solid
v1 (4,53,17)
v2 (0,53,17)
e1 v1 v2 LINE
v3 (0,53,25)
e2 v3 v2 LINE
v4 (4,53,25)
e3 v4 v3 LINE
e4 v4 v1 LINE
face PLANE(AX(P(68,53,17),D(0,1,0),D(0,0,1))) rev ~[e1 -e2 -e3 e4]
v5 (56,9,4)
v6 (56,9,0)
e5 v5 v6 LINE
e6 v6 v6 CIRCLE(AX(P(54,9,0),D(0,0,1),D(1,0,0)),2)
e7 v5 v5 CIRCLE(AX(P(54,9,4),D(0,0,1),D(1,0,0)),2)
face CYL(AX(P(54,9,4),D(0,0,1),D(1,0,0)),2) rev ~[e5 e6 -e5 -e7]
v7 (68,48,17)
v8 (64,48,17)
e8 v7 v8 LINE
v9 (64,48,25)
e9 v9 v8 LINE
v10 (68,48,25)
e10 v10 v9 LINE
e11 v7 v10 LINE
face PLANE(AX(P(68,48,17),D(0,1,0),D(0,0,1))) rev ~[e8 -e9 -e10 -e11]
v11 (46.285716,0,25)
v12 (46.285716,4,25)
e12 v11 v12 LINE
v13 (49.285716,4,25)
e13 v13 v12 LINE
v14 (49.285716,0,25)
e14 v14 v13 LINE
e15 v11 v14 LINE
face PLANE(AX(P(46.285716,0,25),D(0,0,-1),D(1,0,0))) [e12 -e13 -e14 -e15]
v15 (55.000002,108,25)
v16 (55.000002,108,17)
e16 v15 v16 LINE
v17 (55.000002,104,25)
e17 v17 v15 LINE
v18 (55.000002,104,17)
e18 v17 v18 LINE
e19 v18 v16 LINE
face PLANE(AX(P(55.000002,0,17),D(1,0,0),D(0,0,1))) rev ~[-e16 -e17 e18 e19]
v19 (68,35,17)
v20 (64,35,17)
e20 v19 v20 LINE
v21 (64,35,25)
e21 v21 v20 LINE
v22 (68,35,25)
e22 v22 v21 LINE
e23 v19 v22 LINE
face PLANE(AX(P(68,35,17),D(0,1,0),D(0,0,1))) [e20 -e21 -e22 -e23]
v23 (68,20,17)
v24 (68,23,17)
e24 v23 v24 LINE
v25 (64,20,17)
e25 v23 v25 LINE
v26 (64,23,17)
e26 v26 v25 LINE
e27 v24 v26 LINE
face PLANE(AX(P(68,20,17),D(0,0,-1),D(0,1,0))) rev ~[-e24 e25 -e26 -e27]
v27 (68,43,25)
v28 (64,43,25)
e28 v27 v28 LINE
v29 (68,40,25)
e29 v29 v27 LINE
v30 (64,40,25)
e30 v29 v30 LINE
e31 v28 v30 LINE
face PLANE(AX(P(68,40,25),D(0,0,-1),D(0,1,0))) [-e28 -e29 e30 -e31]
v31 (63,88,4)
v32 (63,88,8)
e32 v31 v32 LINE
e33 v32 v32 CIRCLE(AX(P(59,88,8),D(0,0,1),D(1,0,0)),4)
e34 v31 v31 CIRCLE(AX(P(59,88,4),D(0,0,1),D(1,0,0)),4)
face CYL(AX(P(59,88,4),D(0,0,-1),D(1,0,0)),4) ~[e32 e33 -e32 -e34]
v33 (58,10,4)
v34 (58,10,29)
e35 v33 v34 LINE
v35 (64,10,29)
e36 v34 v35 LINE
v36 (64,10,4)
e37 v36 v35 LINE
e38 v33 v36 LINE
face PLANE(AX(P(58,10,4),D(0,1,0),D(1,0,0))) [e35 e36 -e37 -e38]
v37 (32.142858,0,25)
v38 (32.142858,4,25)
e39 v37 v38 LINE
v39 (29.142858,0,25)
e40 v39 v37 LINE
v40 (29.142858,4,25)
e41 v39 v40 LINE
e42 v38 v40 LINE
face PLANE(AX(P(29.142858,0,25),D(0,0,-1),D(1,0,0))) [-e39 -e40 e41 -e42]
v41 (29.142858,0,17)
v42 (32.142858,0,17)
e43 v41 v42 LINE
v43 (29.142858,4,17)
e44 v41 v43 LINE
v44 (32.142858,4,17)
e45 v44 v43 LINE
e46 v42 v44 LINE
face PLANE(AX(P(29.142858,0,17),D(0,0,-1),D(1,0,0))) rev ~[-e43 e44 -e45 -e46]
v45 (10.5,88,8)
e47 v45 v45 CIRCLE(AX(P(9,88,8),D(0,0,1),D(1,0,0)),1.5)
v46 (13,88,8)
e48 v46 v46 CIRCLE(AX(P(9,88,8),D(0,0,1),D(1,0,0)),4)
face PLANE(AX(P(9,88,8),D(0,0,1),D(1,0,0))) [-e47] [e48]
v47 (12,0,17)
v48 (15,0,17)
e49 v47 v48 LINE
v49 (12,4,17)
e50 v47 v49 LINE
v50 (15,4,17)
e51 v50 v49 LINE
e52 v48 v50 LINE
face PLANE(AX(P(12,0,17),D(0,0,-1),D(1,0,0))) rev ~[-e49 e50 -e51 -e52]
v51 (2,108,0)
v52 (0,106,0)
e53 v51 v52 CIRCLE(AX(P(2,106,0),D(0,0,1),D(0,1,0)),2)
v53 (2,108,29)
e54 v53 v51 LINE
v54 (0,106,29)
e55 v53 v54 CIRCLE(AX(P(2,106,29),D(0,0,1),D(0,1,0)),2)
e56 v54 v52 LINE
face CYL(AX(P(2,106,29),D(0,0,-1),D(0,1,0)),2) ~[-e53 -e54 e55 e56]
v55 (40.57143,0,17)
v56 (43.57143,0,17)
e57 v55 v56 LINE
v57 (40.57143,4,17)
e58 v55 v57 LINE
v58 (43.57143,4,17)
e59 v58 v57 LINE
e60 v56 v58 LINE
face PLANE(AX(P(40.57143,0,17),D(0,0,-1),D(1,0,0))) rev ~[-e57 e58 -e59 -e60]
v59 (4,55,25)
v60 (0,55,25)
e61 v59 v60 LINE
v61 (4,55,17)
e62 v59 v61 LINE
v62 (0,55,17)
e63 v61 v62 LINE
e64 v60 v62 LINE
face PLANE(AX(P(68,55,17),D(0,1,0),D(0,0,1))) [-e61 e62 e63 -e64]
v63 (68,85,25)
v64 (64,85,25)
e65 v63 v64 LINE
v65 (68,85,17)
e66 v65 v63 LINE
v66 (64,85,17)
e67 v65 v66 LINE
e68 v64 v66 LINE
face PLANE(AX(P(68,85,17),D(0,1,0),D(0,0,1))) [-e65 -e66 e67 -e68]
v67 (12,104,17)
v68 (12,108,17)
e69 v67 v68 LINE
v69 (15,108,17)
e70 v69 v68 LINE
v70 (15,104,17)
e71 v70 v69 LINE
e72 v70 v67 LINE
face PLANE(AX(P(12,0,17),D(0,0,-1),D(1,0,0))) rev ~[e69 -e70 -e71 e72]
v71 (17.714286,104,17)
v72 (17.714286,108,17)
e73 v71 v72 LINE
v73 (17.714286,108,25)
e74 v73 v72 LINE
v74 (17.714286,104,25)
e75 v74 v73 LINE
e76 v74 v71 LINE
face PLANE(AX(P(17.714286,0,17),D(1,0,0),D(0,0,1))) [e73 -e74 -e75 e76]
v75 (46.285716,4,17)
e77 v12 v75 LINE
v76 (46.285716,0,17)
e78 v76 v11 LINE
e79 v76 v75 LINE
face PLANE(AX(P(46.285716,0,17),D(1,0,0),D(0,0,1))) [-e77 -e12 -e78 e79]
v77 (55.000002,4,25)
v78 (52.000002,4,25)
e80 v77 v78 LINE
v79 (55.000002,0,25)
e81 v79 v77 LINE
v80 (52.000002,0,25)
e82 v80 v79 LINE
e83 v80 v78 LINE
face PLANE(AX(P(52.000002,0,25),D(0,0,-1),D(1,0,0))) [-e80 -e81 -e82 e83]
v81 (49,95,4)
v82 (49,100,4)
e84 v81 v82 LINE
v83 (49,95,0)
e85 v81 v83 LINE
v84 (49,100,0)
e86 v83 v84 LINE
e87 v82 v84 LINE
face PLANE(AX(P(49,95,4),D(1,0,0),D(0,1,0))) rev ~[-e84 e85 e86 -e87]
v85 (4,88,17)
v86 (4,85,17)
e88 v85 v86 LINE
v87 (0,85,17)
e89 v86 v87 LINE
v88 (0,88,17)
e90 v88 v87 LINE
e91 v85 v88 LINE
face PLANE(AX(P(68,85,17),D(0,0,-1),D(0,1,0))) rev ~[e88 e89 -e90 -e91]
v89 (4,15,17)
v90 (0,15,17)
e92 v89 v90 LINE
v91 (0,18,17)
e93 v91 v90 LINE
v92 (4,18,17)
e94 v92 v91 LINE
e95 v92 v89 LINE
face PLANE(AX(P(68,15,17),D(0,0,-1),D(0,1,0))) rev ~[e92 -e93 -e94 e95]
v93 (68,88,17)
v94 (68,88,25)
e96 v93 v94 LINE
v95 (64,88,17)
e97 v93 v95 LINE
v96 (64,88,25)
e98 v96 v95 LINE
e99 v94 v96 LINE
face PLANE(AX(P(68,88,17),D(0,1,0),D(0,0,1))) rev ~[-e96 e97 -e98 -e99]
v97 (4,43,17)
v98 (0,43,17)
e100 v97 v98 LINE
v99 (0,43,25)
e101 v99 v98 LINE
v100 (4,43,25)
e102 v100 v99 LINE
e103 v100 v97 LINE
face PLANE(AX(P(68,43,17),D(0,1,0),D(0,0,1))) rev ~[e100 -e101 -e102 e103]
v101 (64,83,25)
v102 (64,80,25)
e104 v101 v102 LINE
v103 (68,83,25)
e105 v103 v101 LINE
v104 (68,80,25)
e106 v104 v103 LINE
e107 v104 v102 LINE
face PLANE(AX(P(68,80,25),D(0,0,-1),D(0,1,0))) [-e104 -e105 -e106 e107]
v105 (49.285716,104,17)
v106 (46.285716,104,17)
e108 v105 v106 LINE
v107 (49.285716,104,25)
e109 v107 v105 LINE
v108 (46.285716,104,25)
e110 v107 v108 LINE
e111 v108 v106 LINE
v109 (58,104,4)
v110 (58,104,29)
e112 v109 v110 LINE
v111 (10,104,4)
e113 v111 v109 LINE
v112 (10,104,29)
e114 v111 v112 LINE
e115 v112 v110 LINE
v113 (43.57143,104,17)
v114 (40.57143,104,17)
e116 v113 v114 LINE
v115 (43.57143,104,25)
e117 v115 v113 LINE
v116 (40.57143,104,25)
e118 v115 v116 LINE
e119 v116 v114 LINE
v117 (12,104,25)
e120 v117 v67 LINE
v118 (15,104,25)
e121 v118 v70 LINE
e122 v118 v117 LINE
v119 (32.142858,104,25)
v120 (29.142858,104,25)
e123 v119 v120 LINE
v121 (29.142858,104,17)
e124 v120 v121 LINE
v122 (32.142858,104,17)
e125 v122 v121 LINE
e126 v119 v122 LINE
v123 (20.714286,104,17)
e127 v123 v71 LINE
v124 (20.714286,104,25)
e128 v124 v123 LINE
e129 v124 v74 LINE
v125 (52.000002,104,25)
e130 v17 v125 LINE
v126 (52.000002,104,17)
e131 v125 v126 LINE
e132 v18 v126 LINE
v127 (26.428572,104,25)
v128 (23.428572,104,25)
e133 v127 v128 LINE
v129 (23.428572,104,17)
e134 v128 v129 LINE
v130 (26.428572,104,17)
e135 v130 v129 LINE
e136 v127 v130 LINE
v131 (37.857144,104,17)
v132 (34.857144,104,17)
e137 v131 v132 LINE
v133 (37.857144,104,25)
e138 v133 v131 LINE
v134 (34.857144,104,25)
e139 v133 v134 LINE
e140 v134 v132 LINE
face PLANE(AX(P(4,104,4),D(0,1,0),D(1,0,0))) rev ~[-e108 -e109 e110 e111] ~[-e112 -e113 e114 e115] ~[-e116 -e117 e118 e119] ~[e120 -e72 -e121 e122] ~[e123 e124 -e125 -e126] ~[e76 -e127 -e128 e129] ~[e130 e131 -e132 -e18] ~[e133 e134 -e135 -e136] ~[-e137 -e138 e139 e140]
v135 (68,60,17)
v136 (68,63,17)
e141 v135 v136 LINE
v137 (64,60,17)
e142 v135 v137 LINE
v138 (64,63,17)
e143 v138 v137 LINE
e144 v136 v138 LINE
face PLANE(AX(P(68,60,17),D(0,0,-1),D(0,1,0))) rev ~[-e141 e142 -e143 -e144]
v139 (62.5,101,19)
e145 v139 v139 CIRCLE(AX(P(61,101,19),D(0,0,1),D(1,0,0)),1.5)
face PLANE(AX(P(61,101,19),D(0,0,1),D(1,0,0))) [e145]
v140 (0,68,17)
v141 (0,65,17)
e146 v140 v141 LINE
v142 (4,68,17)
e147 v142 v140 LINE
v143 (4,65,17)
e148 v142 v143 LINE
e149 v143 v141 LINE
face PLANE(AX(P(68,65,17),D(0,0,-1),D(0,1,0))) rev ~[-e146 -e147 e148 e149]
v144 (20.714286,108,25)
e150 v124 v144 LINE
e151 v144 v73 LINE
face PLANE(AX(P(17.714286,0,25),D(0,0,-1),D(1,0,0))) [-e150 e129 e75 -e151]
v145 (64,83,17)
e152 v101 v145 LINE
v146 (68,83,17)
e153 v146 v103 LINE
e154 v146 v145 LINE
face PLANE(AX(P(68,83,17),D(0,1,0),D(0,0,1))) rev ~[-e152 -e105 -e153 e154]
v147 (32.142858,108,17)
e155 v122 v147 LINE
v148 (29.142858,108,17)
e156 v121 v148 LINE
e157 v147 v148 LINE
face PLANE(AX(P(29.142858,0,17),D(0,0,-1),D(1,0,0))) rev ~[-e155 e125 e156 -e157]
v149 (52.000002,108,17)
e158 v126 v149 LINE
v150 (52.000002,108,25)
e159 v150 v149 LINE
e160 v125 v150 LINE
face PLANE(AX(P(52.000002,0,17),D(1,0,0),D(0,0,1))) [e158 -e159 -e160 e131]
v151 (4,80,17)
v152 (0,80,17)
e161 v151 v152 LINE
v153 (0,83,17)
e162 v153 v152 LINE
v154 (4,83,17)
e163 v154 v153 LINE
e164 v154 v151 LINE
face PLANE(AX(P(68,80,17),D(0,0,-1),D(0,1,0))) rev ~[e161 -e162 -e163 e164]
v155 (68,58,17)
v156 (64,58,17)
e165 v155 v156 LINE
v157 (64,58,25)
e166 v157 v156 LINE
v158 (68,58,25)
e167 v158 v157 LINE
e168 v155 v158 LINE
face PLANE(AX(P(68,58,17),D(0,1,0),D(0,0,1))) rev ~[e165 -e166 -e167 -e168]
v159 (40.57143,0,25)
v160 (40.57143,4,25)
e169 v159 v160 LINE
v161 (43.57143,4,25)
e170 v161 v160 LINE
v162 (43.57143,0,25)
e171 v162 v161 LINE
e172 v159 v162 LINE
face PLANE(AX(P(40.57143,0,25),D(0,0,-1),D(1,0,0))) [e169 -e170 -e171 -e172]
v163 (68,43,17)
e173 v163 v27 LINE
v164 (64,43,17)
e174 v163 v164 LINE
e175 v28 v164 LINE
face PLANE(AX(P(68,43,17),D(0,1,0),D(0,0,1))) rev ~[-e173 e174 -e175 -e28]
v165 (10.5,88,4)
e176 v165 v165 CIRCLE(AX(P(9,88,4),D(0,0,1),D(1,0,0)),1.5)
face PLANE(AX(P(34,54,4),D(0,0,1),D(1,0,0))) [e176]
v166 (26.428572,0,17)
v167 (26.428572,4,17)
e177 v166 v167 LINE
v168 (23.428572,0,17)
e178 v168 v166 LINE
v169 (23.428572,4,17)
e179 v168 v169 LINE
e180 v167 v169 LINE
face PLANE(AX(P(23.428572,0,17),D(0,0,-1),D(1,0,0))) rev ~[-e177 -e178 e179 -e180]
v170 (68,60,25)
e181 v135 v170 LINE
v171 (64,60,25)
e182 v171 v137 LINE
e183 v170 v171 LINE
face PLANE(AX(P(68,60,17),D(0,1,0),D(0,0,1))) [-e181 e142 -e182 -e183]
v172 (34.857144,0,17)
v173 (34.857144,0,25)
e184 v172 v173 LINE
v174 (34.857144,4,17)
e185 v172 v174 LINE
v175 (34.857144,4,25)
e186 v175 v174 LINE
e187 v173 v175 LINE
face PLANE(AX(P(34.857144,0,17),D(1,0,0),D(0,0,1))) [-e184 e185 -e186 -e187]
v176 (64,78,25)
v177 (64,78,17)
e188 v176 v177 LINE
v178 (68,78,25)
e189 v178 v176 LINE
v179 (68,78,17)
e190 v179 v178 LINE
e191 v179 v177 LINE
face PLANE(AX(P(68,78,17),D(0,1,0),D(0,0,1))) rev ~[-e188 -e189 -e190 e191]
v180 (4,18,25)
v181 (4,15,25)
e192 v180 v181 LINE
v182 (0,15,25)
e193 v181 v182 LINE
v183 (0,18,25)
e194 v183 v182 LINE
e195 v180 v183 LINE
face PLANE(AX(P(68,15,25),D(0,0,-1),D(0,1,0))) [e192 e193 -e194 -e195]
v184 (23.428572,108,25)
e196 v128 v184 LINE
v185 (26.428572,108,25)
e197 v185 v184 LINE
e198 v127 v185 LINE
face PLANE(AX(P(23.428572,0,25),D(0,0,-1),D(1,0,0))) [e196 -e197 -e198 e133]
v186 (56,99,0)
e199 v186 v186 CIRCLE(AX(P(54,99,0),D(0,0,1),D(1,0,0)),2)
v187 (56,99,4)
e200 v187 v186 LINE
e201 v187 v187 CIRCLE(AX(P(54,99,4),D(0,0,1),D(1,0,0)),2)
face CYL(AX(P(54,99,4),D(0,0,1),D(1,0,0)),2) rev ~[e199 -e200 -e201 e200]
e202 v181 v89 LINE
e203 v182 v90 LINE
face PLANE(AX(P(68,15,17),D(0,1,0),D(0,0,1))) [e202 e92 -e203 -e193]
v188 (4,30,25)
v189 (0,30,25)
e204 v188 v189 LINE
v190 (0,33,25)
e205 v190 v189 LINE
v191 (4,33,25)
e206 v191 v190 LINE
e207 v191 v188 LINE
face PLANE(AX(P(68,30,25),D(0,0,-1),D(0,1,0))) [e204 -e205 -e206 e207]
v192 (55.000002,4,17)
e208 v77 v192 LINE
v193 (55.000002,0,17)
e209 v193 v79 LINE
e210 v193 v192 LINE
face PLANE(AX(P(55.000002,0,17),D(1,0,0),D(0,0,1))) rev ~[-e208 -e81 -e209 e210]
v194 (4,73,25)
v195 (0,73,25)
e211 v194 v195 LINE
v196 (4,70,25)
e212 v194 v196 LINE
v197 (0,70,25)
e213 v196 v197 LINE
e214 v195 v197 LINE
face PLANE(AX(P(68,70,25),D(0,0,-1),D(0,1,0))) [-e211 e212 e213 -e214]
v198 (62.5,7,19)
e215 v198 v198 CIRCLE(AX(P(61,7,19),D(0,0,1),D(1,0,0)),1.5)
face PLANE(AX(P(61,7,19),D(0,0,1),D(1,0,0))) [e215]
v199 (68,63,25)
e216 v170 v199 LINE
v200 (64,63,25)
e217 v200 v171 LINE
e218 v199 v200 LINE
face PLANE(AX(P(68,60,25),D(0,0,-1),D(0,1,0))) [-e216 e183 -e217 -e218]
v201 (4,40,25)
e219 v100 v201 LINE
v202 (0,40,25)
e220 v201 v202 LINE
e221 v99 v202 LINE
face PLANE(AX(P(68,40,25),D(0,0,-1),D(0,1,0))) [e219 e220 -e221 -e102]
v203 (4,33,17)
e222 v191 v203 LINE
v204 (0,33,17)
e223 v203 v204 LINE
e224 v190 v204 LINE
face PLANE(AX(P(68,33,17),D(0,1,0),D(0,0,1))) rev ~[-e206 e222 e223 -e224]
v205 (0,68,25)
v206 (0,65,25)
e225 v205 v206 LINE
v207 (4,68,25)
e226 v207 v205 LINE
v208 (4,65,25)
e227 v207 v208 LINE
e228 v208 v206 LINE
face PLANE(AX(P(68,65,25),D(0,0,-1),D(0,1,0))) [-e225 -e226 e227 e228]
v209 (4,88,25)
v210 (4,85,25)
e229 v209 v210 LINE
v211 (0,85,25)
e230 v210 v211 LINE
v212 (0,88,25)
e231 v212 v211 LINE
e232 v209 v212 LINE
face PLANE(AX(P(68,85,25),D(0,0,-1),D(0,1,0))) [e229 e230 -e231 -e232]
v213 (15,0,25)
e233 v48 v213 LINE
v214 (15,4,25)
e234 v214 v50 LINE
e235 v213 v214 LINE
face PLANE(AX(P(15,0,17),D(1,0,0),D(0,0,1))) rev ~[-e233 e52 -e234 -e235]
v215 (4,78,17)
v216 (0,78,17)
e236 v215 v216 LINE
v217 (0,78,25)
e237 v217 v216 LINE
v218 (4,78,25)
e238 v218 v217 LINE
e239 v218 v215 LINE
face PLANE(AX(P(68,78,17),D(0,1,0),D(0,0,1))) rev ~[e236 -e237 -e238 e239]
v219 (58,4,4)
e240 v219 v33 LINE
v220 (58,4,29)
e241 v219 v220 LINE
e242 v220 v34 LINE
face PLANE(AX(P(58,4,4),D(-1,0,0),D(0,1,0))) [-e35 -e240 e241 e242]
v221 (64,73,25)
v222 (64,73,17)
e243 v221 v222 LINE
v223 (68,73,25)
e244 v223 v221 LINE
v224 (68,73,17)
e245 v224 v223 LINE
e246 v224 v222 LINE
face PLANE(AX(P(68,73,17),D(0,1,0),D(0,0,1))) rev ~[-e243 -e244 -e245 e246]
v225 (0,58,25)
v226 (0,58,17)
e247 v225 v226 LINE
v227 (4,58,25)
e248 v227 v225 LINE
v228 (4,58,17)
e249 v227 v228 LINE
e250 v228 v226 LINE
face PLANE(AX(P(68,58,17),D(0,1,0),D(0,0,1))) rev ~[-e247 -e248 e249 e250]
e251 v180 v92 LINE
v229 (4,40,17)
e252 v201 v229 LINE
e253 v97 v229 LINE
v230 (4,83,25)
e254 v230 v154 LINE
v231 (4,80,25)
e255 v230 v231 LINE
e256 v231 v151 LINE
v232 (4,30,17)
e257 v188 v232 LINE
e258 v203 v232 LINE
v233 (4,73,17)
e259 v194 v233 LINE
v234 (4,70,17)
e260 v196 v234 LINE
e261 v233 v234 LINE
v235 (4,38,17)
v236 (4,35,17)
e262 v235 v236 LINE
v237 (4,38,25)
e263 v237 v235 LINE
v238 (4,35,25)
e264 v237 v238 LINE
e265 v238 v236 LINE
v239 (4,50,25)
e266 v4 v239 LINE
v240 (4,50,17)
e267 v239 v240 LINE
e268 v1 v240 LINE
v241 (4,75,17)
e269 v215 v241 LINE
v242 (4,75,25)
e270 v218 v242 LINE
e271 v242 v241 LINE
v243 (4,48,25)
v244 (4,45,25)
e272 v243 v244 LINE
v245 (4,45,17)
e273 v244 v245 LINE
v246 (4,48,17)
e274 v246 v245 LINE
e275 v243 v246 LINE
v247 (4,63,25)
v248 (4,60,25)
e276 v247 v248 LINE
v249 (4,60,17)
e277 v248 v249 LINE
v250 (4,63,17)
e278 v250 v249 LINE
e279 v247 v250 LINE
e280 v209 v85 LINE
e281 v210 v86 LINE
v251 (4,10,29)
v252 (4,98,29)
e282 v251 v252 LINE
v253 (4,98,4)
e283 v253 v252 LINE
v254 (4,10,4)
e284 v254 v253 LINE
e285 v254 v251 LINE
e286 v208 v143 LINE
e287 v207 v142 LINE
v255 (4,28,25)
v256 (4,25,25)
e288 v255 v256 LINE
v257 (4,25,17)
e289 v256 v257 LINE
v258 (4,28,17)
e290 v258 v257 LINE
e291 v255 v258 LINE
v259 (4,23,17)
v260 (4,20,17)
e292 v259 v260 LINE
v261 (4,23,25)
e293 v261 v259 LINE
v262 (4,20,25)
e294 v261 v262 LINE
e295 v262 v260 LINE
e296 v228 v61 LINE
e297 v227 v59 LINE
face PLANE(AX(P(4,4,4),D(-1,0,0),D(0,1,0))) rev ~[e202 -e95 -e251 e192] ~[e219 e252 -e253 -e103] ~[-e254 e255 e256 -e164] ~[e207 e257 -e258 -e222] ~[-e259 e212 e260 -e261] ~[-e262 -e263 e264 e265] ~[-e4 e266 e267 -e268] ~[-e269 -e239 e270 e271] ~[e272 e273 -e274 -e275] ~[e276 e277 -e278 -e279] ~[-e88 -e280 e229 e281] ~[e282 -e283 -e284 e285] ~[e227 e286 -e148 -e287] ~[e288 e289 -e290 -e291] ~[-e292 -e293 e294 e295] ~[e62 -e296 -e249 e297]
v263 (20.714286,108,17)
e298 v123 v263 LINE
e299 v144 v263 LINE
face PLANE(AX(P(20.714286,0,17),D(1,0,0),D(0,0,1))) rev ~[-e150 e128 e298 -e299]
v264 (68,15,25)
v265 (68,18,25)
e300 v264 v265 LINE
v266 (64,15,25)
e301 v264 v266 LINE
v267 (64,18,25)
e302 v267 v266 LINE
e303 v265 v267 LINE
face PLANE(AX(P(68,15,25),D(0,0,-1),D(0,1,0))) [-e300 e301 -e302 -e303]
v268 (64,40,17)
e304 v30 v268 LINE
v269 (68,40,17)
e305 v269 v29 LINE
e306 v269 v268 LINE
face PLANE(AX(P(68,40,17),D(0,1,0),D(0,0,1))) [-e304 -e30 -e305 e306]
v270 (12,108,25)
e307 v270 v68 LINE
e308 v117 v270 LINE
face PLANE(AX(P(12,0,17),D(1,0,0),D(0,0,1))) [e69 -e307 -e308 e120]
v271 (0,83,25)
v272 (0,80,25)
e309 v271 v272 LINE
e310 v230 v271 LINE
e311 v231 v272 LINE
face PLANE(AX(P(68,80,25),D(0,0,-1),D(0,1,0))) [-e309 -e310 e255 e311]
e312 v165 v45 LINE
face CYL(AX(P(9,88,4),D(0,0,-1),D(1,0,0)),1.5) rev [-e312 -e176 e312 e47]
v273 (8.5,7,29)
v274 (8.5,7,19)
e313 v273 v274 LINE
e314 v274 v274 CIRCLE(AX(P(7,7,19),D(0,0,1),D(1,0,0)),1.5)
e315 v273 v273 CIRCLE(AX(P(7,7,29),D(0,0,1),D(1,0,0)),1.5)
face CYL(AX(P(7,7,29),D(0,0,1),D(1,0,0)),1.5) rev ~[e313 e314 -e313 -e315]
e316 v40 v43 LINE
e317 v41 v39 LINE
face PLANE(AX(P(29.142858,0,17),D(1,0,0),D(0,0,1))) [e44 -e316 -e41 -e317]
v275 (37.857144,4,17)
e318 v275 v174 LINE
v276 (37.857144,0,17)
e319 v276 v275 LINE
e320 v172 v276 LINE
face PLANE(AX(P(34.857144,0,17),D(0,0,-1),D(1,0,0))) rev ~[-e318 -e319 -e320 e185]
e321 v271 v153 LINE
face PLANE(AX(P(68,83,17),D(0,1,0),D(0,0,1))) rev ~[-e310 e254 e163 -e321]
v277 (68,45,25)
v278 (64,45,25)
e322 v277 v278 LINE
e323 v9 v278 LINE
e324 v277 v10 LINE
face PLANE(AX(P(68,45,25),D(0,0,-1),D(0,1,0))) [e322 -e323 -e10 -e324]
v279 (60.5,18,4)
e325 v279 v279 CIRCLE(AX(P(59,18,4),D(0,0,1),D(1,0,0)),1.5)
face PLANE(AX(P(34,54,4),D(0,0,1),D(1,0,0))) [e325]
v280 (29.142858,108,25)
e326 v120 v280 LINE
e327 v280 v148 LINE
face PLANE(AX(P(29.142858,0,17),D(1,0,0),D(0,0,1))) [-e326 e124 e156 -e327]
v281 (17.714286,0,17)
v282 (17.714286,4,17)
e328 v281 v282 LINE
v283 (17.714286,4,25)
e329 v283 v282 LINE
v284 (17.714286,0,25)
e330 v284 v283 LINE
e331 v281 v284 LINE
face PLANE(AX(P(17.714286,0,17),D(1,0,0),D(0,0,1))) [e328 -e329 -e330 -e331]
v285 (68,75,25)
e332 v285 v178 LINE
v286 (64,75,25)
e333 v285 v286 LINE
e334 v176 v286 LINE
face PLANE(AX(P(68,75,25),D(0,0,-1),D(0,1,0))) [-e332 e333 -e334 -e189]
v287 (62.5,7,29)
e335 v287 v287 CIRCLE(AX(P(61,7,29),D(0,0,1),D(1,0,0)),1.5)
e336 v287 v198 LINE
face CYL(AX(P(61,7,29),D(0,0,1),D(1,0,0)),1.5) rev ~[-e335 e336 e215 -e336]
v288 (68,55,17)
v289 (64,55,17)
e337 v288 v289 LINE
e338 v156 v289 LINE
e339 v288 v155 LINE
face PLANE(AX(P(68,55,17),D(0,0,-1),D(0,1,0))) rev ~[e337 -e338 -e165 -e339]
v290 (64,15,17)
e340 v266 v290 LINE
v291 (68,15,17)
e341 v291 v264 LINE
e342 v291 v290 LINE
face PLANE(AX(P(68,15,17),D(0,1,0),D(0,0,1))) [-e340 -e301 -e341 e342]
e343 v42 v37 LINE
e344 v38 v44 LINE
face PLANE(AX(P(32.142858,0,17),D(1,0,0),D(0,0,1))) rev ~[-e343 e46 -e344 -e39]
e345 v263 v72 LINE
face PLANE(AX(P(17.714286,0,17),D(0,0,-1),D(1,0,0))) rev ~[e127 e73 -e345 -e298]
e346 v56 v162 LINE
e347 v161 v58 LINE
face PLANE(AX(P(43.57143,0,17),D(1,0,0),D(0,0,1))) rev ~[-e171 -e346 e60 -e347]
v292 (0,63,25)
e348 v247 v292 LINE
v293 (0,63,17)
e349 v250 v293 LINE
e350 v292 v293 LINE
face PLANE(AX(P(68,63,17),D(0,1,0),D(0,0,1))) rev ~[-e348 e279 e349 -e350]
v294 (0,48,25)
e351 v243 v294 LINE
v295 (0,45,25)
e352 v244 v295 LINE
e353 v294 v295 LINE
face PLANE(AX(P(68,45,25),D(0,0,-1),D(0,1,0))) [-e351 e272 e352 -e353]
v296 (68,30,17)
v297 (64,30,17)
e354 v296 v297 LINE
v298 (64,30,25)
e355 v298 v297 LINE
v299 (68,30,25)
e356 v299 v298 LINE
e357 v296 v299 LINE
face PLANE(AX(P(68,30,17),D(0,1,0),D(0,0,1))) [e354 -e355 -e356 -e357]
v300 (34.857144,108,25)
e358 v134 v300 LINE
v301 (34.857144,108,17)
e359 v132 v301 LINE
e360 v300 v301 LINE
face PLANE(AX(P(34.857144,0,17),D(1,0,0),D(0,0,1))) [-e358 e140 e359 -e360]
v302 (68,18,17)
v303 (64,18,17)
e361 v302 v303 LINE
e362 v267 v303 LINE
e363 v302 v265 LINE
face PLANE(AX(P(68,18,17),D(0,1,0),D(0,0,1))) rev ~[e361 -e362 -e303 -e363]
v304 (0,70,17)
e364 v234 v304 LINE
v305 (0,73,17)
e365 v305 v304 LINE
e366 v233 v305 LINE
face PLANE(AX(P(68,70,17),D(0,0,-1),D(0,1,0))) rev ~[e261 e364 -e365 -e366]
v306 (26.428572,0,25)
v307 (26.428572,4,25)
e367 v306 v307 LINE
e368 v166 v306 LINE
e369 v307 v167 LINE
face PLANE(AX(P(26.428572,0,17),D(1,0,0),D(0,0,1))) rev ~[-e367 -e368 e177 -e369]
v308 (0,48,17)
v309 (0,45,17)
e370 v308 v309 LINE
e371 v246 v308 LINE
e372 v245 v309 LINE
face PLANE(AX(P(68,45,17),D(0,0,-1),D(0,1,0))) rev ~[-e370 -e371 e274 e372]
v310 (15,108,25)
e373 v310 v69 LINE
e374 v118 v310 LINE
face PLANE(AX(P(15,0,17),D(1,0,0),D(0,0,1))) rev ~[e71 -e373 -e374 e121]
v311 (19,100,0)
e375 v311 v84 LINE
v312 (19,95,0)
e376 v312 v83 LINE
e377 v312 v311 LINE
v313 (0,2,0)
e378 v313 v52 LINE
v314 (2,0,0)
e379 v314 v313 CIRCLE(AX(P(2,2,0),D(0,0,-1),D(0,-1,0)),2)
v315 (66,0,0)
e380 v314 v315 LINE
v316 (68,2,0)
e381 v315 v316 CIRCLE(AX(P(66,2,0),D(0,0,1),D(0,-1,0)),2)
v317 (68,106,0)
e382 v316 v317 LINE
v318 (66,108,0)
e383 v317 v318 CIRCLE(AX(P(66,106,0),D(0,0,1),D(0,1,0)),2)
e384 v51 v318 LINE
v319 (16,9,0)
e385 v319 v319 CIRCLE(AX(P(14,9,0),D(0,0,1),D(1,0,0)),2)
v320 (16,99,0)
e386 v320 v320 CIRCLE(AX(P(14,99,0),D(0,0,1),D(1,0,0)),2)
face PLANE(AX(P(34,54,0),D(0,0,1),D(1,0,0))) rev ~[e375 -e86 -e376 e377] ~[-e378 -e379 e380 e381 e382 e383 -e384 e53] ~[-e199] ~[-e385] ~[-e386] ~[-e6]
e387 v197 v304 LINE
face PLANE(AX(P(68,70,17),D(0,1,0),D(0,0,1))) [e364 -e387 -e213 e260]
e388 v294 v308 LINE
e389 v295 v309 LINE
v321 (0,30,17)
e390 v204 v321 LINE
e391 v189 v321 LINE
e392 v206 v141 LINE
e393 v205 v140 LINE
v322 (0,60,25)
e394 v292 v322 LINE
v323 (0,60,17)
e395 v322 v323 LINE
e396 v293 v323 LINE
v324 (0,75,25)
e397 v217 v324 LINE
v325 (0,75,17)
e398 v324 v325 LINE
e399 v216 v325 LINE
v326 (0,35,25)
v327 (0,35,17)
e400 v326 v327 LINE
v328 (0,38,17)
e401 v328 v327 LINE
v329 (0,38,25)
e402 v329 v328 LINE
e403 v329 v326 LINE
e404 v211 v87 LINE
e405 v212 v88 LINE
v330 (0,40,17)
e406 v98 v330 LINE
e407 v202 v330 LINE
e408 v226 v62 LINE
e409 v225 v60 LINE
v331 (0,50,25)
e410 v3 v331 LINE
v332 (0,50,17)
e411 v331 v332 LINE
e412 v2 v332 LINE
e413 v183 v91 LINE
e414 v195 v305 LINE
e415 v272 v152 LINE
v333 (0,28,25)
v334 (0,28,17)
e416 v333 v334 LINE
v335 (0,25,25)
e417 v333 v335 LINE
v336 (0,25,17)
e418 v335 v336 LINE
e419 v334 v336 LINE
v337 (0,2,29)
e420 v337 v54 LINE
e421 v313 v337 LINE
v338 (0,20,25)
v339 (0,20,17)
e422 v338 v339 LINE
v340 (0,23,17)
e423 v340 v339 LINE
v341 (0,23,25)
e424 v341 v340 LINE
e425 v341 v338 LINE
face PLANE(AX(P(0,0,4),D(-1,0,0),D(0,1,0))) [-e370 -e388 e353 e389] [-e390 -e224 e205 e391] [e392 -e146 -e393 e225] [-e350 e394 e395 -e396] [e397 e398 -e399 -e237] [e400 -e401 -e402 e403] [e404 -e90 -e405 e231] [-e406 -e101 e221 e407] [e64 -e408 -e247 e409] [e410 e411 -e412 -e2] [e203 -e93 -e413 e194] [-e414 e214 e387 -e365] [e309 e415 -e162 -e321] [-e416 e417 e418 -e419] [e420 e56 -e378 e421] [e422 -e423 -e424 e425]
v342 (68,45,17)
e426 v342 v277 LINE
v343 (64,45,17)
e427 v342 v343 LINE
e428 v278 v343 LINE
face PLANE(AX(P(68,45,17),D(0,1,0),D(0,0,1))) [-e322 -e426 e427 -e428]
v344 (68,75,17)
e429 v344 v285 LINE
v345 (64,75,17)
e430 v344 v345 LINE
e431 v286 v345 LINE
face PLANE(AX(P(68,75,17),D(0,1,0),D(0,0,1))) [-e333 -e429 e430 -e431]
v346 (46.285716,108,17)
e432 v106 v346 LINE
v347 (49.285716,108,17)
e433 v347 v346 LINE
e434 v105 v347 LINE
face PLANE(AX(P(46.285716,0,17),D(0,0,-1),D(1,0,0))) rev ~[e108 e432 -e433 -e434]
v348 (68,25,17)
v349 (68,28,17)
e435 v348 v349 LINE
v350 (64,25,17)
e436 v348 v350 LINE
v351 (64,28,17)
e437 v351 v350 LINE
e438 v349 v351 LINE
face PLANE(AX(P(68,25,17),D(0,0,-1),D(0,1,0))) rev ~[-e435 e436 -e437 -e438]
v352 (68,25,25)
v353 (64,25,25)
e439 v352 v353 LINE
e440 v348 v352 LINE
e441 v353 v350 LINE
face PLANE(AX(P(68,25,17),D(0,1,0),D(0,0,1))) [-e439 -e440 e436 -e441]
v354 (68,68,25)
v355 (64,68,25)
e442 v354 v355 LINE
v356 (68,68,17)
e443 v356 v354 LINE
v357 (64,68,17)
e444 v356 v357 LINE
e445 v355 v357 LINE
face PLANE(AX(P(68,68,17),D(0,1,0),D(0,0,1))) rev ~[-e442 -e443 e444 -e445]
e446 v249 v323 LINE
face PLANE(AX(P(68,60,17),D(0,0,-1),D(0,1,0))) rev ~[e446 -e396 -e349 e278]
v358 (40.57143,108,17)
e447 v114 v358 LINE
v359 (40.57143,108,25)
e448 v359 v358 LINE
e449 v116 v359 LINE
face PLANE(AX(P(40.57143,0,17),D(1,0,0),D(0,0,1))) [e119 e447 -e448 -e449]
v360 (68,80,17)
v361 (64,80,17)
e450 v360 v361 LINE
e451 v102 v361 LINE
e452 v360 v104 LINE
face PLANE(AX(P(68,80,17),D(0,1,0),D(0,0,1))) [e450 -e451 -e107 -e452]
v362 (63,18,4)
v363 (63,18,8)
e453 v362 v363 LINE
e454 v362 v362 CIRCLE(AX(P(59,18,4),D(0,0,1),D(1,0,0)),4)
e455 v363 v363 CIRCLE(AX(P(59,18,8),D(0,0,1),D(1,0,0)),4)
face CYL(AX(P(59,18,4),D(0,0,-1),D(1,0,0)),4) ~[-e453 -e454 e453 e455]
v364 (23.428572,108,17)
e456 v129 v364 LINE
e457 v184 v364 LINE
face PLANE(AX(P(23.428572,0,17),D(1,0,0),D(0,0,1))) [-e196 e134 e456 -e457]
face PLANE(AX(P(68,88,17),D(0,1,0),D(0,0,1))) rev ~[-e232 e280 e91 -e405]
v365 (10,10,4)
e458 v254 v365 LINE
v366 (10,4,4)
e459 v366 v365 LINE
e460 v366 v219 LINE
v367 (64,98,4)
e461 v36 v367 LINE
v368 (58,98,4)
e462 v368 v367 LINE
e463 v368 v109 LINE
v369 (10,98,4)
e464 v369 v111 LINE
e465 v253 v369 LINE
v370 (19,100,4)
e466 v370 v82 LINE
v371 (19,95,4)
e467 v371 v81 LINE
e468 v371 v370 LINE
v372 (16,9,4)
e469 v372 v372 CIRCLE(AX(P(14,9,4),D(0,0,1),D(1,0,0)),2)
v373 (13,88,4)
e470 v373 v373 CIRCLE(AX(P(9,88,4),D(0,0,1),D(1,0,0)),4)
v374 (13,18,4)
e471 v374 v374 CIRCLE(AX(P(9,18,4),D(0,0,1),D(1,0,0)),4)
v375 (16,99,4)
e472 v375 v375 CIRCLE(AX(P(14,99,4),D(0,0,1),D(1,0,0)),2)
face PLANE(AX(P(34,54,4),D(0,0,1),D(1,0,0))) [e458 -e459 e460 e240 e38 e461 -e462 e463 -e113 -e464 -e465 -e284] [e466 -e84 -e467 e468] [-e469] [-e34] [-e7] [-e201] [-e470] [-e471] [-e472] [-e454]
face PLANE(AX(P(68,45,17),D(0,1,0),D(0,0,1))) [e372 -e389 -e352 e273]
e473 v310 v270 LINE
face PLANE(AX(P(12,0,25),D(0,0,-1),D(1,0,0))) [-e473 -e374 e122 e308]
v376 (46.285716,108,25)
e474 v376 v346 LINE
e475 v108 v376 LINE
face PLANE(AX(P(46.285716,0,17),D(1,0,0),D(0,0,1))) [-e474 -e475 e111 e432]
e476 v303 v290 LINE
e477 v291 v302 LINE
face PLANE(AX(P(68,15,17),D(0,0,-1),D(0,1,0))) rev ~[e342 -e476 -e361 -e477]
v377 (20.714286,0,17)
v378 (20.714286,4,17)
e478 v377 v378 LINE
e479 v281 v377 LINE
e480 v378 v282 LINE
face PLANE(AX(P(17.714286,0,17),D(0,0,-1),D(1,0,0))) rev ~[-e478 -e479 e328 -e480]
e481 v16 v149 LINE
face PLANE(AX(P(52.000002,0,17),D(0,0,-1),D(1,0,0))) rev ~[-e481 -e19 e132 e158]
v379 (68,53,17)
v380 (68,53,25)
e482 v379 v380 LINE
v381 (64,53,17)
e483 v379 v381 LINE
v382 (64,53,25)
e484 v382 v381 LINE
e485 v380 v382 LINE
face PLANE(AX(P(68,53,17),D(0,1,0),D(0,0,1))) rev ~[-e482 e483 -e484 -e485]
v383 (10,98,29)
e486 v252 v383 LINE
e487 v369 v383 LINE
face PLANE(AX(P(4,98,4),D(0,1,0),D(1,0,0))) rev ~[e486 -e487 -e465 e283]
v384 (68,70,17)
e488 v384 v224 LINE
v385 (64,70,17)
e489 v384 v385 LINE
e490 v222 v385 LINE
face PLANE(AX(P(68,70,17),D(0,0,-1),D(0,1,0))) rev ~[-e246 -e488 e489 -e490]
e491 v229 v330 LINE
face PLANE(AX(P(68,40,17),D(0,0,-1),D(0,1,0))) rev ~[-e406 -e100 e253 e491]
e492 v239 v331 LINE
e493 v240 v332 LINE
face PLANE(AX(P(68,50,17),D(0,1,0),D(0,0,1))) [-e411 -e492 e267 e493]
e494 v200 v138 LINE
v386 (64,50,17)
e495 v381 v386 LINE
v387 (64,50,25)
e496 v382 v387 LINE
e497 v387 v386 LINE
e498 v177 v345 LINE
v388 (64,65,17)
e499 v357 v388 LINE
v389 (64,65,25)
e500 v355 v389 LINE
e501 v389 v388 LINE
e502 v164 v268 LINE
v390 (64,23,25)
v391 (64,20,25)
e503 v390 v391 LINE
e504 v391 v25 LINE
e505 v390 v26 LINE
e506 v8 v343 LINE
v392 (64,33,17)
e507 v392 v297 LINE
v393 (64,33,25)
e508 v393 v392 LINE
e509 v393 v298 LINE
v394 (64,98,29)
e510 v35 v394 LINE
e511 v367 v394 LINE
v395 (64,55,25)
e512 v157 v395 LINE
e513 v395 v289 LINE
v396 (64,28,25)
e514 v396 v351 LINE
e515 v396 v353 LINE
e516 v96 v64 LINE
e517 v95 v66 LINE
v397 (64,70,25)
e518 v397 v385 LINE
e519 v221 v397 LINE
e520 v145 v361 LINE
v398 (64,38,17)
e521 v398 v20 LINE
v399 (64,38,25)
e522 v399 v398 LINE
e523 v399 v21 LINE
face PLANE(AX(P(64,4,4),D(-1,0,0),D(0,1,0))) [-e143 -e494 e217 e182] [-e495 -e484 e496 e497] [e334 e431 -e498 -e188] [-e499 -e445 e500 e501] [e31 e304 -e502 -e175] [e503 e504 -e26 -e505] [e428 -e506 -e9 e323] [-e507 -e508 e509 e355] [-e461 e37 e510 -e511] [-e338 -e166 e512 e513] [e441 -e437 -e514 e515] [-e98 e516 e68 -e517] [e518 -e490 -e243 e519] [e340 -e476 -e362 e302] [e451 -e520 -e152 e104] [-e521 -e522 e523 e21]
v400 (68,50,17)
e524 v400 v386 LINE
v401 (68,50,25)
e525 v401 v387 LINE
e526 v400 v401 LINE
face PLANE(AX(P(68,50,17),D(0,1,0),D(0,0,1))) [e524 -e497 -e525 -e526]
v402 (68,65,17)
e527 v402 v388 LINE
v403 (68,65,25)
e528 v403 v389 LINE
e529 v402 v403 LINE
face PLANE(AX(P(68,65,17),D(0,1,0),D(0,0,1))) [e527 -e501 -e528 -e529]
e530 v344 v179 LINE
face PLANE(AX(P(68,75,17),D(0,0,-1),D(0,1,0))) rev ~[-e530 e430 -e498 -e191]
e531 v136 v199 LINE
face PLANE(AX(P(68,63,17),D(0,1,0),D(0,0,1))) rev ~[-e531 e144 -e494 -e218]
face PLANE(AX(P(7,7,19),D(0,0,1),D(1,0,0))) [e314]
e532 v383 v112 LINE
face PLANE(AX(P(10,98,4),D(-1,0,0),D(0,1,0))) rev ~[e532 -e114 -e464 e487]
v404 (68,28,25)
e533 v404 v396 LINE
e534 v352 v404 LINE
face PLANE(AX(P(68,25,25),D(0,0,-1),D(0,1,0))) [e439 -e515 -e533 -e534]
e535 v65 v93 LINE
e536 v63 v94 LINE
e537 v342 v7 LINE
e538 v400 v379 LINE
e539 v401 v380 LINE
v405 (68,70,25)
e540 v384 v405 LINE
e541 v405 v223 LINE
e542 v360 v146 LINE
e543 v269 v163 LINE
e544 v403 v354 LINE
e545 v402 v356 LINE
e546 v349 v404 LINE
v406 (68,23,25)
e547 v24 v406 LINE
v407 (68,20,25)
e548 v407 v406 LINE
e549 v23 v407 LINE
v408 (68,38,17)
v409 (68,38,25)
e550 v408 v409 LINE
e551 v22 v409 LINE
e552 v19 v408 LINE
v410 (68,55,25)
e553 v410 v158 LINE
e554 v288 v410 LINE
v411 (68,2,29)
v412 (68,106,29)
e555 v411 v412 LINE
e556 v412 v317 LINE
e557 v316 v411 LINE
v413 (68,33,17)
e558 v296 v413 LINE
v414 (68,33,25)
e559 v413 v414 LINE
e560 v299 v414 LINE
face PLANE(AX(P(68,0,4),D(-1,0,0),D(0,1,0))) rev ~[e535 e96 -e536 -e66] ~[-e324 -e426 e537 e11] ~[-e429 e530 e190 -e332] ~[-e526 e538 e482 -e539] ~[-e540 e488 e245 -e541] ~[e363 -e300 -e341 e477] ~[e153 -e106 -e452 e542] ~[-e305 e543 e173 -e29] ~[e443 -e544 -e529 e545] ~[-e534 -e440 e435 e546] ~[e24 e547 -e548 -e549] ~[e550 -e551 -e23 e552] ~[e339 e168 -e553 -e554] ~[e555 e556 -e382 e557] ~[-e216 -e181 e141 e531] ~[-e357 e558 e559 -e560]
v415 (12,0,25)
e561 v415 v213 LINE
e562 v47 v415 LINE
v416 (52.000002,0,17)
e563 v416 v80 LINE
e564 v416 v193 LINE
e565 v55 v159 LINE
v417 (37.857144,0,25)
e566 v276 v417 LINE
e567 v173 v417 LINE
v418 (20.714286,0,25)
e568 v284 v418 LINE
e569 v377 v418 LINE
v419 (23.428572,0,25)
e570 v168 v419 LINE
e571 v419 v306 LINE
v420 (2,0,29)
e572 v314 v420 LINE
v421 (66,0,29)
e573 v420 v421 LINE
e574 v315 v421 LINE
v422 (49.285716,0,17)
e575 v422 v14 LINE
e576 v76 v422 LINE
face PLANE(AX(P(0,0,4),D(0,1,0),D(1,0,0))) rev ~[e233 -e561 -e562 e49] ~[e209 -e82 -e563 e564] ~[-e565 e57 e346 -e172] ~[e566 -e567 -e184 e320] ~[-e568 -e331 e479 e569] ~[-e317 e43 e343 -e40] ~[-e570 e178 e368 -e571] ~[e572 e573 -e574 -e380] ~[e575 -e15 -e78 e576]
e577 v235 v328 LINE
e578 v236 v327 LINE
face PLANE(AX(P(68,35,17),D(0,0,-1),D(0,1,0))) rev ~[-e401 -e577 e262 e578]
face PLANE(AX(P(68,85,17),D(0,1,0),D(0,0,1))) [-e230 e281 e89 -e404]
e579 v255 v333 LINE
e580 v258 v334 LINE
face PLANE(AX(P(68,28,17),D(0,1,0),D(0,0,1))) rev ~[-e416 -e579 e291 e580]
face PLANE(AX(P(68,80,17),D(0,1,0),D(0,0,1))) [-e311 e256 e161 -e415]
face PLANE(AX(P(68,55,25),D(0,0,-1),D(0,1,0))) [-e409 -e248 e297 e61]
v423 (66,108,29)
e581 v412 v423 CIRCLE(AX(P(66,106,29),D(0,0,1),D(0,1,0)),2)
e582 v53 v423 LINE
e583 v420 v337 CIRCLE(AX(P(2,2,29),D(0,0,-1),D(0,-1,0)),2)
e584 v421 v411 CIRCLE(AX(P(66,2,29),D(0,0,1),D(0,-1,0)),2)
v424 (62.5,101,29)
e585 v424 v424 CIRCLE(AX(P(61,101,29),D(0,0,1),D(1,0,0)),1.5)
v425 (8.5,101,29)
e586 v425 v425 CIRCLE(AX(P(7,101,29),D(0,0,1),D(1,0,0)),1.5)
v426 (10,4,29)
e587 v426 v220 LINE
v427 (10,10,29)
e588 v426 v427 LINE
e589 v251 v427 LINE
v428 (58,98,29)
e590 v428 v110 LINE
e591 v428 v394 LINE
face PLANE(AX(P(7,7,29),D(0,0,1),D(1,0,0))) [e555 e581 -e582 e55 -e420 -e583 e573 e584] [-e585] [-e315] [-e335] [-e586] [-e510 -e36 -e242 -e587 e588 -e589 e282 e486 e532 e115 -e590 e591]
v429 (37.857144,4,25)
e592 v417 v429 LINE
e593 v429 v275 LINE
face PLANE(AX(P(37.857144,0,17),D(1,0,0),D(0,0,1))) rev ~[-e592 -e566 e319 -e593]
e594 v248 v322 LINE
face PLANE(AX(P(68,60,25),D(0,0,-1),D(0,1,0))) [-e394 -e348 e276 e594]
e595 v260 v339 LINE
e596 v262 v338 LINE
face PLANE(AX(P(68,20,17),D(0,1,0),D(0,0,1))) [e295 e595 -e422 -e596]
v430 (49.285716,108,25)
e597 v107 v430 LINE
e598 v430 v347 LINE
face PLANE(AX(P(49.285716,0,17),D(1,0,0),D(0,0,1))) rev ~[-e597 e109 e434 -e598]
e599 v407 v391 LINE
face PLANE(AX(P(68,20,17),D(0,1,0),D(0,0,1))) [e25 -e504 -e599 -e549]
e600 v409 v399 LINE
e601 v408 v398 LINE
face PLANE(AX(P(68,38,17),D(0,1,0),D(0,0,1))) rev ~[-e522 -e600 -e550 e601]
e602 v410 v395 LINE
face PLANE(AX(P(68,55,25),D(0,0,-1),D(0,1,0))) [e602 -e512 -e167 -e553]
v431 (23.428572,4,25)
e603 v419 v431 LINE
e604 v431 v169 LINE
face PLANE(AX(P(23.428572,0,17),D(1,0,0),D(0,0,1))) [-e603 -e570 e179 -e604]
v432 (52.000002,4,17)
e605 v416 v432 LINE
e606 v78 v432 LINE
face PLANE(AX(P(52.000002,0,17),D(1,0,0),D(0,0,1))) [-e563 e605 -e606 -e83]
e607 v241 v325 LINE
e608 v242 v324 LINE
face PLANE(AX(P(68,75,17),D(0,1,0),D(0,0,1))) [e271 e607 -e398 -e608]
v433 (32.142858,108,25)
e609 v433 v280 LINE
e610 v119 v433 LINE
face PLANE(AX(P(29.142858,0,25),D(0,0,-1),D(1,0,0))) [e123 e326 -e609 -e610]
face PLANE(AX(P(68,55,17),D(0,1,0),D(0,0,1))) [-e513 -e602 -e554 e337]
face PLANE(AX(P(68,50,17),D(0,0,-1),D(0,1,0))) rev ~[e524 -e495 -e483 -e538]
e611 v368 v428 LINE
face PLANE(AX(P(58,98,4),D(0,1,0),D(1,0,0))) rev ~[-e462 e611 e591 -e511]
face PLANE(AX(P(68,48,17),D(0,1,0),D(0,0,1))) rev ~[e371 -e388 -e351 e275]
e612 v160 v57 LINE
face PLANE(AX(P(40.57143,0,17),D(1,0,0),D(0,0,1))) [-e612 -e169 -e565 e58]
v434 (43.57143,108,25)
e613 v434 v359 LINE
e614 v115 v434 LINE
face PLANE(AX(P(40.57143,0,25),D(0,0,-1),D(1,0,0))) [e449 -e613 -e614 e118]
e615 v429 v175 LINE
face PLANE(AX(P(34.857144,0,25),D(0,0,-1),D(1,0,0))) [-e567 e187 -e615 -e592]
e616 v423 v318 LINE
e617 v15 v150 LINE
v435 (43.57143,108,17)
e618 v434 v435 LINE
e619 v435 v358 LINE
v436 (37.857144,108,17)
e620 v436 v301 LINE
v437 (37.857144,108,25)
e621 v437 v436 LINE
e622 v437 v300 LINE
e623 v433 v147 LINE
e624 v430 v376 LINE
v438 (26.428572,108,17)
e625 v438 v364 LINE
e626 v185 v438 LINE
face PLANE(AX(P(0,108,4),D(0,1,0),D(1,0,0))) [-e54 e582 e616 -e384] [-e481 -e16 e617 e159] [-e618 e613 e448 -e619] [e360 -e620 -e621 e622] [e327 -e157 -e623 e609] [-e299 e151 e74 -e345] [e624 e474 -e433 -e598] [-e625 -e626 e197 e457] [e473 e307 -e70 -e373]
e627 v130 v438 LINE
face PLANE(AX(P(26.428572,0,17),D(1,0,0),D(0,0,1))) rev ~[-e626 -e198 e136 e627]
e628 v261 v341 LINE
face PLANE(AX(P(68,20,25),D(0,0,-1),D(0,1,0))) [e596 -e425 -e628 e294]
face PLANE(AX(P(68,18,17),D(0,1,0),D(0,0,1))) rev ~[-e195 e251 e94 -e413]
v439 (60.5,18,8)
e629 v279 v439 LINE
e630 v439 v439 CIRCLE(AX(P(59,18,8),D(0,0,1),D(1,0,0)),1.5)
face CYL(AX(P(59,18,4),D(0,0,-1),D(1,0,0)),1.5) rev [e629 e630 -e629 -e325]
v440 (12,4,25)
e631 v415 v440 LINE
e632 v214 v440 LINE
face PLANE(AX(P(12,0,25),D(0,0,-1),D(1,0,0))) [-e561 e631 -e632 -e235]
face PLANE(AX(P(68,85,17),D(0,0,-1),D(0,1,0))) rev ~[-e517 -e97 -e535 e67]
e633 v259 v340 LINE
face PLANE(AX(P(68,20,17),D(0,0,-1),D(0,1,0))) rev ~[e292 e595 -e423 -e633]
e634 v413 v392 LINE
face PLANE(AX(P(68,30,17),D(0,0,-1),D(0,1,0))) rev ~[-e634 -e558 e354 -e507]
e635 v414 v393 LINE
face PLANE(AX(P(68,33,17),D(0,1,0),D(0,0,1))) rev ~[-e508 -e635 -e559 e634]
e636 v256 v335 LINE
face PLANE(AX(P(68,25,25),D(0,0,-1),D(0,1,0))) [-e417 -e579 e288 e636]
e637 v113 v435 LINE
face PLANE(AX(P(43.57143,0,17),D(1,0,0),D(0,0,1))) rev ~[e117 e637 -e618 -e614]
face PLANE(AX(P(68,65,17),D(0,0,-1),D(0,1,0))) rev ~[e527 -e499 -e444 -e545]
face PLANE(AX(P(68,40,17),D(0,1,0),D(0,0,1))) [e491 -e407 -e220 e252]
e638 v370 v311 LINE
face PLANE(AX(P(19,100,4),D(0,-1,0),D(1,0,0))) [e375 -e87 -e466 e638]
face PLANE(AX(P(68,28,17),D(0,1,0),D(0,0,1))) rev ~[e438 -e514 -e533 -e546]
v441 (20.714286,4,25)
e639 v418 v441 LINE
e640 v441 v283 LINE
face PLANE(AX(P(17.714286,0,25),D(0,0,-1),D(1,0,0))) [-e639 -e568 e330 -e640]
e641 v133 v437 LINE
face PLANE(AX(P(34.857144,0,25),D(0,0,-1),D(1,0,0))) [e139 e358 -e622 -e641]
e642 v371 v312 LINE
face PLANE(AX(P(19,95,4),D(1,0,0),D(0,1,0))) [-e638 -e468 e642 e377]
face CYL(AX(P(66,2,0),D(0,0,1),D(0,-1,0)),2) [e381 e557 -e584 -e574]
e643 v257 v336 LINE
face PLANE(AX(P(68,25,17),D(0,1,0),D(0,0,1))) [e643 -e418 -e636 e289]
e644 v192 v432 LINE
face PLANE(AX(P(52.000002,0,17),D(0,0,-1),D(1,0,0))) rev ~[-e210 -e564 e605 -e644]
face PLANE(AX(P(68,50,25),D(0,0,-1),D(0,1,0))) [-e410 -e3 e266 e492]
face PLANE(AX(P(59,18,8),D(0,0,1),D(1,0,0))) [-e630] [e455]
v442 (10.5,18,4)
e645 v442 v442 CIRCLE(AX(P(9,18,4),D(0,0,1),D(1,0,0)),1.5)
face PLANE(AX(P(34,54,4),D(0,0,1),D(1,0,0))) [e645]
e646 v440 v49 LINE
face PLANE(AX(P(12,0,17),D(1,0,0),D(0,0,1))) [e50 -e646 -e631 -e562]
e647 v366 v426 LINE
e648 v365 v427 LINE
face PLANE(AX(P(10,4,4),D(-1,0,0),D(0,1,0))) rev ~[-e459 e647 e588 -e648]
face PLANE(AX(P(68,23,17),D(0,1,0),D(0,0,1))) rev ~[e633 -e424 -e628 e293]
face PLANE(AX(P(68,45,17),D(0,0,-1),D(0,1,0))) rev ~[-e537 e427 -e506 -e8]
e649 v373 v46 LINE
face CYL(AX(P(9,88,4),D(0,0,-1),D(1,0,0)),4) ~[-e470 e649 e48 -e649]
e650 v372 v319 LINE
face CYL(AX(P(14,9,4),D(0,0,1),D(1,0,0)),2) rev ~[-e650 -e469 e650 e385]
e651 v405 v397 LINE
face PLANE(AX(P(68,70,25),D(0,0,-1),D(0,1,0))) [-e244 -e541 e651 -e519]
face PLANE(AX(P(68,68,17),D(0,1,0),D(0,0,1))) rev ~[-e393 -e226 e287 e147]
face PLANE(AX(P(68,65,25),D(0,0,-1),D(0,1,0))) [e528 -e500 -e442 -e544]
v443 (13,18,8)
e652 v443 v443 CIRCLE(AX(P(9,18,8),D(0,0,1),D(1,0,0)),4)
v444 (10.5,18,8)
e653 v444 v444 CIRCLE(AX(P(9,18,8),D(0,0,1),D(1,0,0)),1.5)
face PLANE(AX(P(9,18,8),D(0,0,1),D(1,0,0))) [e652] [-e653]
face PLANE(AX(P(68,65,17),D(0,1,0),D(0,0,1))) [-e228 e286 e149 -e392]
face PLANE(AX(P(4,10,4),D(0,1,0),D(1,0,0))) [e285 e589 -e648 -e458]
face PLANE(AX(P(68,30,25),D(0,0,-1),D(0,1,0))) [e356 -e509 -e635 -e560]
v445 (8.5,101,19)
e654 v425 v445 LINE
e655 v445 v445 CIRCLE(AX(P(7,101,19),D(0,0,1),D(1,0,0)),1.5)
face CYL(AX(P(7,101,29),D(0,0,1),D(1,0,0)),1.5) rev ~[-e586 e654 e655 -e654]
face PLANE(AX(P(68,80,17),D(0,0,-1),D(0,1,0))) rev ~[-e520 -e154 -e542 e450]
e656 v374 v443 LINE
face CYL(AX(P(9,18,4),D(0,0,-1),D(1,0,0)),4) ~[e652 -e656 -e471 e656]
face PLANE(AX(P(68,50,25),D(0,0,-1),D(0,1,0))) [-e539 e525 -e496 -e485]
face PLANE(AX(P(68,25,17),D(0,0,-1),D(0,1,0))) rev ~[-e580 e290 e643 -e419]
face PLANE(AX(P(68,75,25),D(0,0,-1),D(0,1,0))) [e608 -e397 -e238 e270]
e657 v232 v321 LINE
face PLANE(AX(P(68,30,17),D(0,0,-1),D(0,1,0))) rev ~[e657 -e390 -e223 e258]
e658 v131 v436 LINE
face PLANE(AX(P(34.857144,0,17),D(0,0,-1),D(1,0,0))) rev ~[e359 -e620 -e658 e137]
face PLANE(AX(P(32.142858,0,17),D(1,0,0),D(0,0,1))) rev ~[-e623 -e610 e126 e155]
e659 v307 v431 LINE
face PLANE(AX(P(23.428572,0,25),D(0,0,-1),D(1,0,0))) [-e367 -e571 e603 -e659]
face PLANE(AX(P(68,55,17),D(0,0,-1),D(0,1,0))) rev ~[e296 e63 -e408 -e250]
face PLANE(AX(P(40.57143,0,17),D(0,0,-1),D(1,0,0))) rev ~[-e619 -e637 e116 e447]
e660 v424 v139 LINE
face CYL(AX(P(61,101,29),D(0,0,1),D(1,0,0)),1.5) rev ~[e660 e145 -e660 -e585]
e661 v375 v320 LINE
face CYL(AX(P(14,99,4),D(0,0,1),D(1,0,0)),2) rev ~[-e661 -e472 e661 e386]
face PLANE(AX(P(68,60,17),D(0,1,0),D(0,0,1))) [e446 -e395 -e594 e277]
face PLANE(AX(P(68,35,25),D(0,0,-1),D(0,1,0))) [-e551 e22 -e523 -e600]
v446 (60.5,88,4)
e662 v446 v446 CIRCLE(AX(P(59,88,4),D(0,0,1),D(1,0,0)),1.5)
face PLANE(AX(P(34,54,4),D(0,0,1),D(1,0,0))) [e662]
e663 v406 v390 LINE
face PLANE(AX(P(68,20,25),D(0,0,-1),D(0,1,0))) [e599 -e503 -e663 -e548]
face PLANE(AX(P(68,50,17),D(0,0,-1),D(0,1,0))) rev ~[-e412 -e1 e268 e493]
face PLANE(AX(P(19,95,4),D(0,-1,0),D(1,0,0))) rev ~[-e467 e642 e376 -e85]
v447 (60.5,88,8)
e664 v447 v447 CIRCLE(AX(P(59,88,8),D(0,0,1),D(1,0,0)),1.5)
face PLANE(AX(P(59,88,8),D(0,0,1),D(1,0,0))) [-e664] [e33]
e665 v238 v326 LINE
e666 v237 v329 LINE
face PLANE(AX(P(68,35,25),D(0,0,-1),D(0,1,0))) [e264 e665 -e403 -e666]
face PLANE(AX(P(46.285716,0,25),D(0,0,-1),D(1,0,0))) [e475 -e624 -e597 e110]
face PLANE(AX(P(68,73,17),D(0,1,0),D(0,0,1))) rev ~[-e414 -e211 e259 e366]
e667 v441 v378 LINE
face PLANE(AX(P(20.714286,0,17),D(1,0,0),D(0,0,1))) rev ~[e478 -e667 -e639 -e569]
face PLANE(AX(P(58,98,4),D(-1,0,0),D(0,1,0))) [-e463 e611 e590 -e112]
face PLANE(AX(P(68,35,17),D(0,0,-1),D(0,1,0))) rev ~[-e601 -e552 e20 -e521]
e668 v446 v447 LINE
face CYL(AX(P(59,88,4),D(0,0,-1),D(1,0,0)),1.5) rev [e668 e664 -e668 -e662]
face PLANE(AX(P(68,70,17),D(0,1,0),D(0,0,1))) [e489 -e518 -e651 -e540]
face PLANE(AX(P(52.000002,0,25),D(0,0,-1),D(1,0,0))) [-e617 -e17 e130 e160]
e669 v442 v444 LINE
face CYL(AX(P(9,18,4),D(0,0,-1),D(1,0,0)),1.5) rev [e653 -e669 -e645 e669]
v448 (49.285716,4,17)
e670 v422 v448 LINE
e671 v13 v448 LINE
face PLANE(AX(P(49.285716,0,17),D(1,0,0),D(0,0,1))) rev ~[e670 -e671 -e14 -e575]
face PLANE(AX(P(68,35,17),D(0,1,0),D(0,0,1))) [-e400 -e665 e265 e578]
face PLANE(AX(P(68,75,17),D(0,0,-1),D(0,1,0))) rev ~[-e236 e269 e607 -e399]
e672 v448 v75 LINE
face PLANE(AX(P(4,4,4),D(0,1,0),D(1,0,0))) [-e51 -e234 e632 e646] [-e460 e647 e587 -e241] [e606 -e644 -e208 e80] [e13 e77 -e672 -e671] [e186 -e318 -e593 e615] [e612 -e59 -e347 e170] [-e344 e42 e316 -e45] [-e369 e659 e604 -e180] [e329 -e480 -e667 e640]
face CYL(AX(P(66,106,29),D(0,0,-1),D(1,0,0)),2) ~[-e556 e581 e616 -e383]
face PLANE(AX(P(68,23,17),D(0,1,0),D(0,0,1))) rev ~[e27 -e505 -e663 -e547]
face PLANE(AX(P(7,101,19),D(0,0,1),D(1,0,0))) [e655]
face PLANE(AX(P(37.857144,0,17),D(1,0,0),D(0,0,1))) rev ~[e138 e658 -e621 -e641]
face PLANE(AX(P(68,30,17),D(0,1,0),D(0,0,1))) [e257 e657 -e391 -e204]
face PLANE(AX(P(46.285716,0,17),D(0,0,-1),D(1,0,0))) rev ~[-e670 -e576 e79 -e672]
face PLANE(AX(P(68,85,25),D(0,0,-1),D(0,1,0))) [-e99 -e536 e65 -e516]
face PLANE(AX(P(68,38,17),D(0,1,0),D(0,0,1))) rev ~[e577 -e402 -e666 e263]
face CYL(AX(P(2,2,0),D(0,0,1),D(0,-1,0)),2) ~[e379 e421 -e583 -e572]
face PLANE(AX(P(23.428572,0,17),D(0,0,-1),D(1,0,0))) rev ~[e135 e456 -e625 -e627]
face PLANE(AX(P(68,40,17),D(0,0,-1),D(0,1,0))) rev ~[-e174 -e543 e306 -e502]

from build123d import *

# Parameters (mm, degrees)
SKETCH_W               = 68
SKETCH_H               = 108
PAD_DEPTH              = 4
SKETCH001_W            = 68
SKETCH001_H            = 108
SKETCH001_W_2          = 60
SKETCH001_H_2          = 100
PAD001_DEPTH           = 25
SKETCH002_R            = 2
SKETCH002_W            = 30
SKETCH002_H            = 5
POCKET_DEPTH           = 4
SKETCH003_R            = 4
SKETCH003_R_2          = 1.5
PAD002_DEPTH           = 4
SKETCH004_W            = 3
SKETCH004_H            = 8
POCKET001_DEPTH        = 70
LINEARPATTERN_COUNT    = 15
LINEARPATTERN_PITCH    = 5
SKETCH005_W            = 3
SKETCH005_H            = 8
POCKET002_DEPTH        = 110
LINEARPATTERN001_COUNT = 8
LINEARPATTERN001_PITCH = 5.714286
SKETCH006_W            = 6
SKETCH006_H            = 6
PAD003_DEPTH           = 25
SKETCH007_R            = 1.5
POCKET003_DEPTH        = 10
FILLET_R               = 2
FILLET001_R            = 2
FILLET002_R            = 2
FILLET003_R            = 2


with BuildPart() as part:
    # Sketch → Pad (new body)
    with BuildSketch(Plane.XY):
        with Locations((34, 54)):
            Rectangle(SKETCH_W, SKETCH_H)
    extrude(amount=PAD_DEPTH)

    # Sketch001 → Pad001 (new body)
    with BuildSketch(Plane.XY.offset(4)):
        with Locations((34, 54)):
            Rectangle(SKETCH001_W, SKETCH001_H)
        with Locations((34, 54)):
            Rectangle(SKETCH001_W_2, SKETCH001_H_2, mode=Mode.SUBTRACT)
    extrude(amount=PAD001_DEPTH)

    # Sketch002 → Pocket (cut)
    with BuildSketch(Plane.XY.offset(4)):
        with Locations((14, 9)):
            Circle(SKETCH002_R)
        with Locations((54, 9)):
            Circle(SKETCH002_R)
        with Locations((54, 99)):
            Circle(SKETCH002_R)
        with Locations((14, 99)):
            Circle(SKETCH002_R)
        with Locations((34, 97.5)):
            Rectangle(SKETCH002_W, SKETCH002_H)
    extrude(amount=-POCKET_DEPTH, mode=Mode.SUBTRACT)

    # Sketch003 → Pad002 (new body)
    with BuildSketch(Plane.XY.offset(4)):
        with Locations((9, 88)):
            Circle(SKETCH003_R)
        with Locations((9, 88)):
            Circle(SKETCH003_R_2, mode=Mode.SUBTRACT)
        with Locations((59, 88)):
            Circle(SKETCH003_R)
        with Locations((59, 88)):
            Circle(SKETCH003_R_2, mode=Mode.SUBTRACT)
        with Locations((59, 18)):
            Circle(SKETCH003_R)
        with Locations((59, 18)):
            Circle(SKETCH003_R_2, mode=Mode.SUBTRACT)
        with Locations((9, 18)):
            Circle(SKETCH003_R)
        with Locations((9, 18)):
            Circle(SKETCH003_R_2, mode=Mode.SUBTRACT)
    extrude(amount=PAD002_DEPTH)

    # Sketch004 → Pocket001 (cut)
    with BuildSketch(Plane.YZ.offset(68)):
        with Locations((16.5, 21)):
            Rectangle(SKETCH004_W, SKETCH004_H)
    pocket001 = extrude(amount=-POCKET001_DEPTH, mode=Mode.SUBTRACT)

    # LinearPattern: Pocket001 ×15
    with Locations(*[(0, i * LINEARPATTERN_PITCH, 0) for i in range(1, LINEARPATTERN_COUNT)]):
        add(pocket001, mode=Mode.SUBTRACT)

    # Sketch005 → Pocket002 (cut)
    with BuildSketch(Plane.XZ):
        with Locations((13.5, 21)):
            Rectangle(SKETCH005_W, SKETCH005_H)
    pocket002 = extrude(amount=-POCKET002_DEPTH, mode=Mode.SUBTRACT)

    # LinearPattern001: Pocket002 ×8
    with Locations(*[(i * LINEARPATTERN001_PITCH, 0, 0) for i in range(1, LINEARPATTERN001_COUNT)]):
        add(pocket002, mode=Mode.SUBTRACT)

    # Sketch006 → Pad003 (new body)
    with BuildSketch(Plane.XY.offset(4)):
        with Locations((7, 7)):
            Rectangle(SKETCH006_W, SKETCH006_H)
        with Locations((61, 7)):
            Rectangle(SKETCH006_W, SKETCH006_H)
        with Locations((7, 101)):
            Rectangle(SKETCH006_W, SKETCH006_H)
        with Locations((61, 101)):
            Rectangle(SKETCH006_W, SKETCH006_H)
    extrude(amount=PAD003_DEPTH)

    # Sketch007 → Pocket003 (cut)
    with BuildSketch(Plane.XY.offset(29)):
        with Locations((7, 7)):
            Circle(SKETCH007_R)
        with Locations((61, 7)):
            Circle(SKETCH007_R)
        with Locations((7, 101)):
            Circle(SKETCH007_R)
        with Locations((61, 101)):
            Circle(SKETCH007_R)
    extrude(amount=-POCKET003_DEPTH, mode=Mode.SUBTRACT)

    # Fillet
    fillet_edges = [part.edges().sort_by_distance(p)[0] for p in [
        (68, 0, 14.5),
    ]]
    fillet(fillet_edges, radius=FILLET_R)

    # Fillet001
    fillet001_edges = [part.edges().sort_by_distance(p)[0] for p in [
        (0, 0, 14.5),
    ]]
    fillet(fillet001_edges, radius=FILLET001_R)

    # Fillet002
    fillet002_edges = [part.edges().sort_by_distance(p)[0] for p in [
        (68, 108, 14.5),
    ]]
    fillet(fillet002_edges, radius=FILLET002_R)

    # Fillet003
    fillet003_edges = [part.edges().sort_by_distance(p)[0] for p in [
        (0, 108, 14.5),
    ]]
    fillet(fillet003_edges, radius=FILLET003_R)


solid = part.part
